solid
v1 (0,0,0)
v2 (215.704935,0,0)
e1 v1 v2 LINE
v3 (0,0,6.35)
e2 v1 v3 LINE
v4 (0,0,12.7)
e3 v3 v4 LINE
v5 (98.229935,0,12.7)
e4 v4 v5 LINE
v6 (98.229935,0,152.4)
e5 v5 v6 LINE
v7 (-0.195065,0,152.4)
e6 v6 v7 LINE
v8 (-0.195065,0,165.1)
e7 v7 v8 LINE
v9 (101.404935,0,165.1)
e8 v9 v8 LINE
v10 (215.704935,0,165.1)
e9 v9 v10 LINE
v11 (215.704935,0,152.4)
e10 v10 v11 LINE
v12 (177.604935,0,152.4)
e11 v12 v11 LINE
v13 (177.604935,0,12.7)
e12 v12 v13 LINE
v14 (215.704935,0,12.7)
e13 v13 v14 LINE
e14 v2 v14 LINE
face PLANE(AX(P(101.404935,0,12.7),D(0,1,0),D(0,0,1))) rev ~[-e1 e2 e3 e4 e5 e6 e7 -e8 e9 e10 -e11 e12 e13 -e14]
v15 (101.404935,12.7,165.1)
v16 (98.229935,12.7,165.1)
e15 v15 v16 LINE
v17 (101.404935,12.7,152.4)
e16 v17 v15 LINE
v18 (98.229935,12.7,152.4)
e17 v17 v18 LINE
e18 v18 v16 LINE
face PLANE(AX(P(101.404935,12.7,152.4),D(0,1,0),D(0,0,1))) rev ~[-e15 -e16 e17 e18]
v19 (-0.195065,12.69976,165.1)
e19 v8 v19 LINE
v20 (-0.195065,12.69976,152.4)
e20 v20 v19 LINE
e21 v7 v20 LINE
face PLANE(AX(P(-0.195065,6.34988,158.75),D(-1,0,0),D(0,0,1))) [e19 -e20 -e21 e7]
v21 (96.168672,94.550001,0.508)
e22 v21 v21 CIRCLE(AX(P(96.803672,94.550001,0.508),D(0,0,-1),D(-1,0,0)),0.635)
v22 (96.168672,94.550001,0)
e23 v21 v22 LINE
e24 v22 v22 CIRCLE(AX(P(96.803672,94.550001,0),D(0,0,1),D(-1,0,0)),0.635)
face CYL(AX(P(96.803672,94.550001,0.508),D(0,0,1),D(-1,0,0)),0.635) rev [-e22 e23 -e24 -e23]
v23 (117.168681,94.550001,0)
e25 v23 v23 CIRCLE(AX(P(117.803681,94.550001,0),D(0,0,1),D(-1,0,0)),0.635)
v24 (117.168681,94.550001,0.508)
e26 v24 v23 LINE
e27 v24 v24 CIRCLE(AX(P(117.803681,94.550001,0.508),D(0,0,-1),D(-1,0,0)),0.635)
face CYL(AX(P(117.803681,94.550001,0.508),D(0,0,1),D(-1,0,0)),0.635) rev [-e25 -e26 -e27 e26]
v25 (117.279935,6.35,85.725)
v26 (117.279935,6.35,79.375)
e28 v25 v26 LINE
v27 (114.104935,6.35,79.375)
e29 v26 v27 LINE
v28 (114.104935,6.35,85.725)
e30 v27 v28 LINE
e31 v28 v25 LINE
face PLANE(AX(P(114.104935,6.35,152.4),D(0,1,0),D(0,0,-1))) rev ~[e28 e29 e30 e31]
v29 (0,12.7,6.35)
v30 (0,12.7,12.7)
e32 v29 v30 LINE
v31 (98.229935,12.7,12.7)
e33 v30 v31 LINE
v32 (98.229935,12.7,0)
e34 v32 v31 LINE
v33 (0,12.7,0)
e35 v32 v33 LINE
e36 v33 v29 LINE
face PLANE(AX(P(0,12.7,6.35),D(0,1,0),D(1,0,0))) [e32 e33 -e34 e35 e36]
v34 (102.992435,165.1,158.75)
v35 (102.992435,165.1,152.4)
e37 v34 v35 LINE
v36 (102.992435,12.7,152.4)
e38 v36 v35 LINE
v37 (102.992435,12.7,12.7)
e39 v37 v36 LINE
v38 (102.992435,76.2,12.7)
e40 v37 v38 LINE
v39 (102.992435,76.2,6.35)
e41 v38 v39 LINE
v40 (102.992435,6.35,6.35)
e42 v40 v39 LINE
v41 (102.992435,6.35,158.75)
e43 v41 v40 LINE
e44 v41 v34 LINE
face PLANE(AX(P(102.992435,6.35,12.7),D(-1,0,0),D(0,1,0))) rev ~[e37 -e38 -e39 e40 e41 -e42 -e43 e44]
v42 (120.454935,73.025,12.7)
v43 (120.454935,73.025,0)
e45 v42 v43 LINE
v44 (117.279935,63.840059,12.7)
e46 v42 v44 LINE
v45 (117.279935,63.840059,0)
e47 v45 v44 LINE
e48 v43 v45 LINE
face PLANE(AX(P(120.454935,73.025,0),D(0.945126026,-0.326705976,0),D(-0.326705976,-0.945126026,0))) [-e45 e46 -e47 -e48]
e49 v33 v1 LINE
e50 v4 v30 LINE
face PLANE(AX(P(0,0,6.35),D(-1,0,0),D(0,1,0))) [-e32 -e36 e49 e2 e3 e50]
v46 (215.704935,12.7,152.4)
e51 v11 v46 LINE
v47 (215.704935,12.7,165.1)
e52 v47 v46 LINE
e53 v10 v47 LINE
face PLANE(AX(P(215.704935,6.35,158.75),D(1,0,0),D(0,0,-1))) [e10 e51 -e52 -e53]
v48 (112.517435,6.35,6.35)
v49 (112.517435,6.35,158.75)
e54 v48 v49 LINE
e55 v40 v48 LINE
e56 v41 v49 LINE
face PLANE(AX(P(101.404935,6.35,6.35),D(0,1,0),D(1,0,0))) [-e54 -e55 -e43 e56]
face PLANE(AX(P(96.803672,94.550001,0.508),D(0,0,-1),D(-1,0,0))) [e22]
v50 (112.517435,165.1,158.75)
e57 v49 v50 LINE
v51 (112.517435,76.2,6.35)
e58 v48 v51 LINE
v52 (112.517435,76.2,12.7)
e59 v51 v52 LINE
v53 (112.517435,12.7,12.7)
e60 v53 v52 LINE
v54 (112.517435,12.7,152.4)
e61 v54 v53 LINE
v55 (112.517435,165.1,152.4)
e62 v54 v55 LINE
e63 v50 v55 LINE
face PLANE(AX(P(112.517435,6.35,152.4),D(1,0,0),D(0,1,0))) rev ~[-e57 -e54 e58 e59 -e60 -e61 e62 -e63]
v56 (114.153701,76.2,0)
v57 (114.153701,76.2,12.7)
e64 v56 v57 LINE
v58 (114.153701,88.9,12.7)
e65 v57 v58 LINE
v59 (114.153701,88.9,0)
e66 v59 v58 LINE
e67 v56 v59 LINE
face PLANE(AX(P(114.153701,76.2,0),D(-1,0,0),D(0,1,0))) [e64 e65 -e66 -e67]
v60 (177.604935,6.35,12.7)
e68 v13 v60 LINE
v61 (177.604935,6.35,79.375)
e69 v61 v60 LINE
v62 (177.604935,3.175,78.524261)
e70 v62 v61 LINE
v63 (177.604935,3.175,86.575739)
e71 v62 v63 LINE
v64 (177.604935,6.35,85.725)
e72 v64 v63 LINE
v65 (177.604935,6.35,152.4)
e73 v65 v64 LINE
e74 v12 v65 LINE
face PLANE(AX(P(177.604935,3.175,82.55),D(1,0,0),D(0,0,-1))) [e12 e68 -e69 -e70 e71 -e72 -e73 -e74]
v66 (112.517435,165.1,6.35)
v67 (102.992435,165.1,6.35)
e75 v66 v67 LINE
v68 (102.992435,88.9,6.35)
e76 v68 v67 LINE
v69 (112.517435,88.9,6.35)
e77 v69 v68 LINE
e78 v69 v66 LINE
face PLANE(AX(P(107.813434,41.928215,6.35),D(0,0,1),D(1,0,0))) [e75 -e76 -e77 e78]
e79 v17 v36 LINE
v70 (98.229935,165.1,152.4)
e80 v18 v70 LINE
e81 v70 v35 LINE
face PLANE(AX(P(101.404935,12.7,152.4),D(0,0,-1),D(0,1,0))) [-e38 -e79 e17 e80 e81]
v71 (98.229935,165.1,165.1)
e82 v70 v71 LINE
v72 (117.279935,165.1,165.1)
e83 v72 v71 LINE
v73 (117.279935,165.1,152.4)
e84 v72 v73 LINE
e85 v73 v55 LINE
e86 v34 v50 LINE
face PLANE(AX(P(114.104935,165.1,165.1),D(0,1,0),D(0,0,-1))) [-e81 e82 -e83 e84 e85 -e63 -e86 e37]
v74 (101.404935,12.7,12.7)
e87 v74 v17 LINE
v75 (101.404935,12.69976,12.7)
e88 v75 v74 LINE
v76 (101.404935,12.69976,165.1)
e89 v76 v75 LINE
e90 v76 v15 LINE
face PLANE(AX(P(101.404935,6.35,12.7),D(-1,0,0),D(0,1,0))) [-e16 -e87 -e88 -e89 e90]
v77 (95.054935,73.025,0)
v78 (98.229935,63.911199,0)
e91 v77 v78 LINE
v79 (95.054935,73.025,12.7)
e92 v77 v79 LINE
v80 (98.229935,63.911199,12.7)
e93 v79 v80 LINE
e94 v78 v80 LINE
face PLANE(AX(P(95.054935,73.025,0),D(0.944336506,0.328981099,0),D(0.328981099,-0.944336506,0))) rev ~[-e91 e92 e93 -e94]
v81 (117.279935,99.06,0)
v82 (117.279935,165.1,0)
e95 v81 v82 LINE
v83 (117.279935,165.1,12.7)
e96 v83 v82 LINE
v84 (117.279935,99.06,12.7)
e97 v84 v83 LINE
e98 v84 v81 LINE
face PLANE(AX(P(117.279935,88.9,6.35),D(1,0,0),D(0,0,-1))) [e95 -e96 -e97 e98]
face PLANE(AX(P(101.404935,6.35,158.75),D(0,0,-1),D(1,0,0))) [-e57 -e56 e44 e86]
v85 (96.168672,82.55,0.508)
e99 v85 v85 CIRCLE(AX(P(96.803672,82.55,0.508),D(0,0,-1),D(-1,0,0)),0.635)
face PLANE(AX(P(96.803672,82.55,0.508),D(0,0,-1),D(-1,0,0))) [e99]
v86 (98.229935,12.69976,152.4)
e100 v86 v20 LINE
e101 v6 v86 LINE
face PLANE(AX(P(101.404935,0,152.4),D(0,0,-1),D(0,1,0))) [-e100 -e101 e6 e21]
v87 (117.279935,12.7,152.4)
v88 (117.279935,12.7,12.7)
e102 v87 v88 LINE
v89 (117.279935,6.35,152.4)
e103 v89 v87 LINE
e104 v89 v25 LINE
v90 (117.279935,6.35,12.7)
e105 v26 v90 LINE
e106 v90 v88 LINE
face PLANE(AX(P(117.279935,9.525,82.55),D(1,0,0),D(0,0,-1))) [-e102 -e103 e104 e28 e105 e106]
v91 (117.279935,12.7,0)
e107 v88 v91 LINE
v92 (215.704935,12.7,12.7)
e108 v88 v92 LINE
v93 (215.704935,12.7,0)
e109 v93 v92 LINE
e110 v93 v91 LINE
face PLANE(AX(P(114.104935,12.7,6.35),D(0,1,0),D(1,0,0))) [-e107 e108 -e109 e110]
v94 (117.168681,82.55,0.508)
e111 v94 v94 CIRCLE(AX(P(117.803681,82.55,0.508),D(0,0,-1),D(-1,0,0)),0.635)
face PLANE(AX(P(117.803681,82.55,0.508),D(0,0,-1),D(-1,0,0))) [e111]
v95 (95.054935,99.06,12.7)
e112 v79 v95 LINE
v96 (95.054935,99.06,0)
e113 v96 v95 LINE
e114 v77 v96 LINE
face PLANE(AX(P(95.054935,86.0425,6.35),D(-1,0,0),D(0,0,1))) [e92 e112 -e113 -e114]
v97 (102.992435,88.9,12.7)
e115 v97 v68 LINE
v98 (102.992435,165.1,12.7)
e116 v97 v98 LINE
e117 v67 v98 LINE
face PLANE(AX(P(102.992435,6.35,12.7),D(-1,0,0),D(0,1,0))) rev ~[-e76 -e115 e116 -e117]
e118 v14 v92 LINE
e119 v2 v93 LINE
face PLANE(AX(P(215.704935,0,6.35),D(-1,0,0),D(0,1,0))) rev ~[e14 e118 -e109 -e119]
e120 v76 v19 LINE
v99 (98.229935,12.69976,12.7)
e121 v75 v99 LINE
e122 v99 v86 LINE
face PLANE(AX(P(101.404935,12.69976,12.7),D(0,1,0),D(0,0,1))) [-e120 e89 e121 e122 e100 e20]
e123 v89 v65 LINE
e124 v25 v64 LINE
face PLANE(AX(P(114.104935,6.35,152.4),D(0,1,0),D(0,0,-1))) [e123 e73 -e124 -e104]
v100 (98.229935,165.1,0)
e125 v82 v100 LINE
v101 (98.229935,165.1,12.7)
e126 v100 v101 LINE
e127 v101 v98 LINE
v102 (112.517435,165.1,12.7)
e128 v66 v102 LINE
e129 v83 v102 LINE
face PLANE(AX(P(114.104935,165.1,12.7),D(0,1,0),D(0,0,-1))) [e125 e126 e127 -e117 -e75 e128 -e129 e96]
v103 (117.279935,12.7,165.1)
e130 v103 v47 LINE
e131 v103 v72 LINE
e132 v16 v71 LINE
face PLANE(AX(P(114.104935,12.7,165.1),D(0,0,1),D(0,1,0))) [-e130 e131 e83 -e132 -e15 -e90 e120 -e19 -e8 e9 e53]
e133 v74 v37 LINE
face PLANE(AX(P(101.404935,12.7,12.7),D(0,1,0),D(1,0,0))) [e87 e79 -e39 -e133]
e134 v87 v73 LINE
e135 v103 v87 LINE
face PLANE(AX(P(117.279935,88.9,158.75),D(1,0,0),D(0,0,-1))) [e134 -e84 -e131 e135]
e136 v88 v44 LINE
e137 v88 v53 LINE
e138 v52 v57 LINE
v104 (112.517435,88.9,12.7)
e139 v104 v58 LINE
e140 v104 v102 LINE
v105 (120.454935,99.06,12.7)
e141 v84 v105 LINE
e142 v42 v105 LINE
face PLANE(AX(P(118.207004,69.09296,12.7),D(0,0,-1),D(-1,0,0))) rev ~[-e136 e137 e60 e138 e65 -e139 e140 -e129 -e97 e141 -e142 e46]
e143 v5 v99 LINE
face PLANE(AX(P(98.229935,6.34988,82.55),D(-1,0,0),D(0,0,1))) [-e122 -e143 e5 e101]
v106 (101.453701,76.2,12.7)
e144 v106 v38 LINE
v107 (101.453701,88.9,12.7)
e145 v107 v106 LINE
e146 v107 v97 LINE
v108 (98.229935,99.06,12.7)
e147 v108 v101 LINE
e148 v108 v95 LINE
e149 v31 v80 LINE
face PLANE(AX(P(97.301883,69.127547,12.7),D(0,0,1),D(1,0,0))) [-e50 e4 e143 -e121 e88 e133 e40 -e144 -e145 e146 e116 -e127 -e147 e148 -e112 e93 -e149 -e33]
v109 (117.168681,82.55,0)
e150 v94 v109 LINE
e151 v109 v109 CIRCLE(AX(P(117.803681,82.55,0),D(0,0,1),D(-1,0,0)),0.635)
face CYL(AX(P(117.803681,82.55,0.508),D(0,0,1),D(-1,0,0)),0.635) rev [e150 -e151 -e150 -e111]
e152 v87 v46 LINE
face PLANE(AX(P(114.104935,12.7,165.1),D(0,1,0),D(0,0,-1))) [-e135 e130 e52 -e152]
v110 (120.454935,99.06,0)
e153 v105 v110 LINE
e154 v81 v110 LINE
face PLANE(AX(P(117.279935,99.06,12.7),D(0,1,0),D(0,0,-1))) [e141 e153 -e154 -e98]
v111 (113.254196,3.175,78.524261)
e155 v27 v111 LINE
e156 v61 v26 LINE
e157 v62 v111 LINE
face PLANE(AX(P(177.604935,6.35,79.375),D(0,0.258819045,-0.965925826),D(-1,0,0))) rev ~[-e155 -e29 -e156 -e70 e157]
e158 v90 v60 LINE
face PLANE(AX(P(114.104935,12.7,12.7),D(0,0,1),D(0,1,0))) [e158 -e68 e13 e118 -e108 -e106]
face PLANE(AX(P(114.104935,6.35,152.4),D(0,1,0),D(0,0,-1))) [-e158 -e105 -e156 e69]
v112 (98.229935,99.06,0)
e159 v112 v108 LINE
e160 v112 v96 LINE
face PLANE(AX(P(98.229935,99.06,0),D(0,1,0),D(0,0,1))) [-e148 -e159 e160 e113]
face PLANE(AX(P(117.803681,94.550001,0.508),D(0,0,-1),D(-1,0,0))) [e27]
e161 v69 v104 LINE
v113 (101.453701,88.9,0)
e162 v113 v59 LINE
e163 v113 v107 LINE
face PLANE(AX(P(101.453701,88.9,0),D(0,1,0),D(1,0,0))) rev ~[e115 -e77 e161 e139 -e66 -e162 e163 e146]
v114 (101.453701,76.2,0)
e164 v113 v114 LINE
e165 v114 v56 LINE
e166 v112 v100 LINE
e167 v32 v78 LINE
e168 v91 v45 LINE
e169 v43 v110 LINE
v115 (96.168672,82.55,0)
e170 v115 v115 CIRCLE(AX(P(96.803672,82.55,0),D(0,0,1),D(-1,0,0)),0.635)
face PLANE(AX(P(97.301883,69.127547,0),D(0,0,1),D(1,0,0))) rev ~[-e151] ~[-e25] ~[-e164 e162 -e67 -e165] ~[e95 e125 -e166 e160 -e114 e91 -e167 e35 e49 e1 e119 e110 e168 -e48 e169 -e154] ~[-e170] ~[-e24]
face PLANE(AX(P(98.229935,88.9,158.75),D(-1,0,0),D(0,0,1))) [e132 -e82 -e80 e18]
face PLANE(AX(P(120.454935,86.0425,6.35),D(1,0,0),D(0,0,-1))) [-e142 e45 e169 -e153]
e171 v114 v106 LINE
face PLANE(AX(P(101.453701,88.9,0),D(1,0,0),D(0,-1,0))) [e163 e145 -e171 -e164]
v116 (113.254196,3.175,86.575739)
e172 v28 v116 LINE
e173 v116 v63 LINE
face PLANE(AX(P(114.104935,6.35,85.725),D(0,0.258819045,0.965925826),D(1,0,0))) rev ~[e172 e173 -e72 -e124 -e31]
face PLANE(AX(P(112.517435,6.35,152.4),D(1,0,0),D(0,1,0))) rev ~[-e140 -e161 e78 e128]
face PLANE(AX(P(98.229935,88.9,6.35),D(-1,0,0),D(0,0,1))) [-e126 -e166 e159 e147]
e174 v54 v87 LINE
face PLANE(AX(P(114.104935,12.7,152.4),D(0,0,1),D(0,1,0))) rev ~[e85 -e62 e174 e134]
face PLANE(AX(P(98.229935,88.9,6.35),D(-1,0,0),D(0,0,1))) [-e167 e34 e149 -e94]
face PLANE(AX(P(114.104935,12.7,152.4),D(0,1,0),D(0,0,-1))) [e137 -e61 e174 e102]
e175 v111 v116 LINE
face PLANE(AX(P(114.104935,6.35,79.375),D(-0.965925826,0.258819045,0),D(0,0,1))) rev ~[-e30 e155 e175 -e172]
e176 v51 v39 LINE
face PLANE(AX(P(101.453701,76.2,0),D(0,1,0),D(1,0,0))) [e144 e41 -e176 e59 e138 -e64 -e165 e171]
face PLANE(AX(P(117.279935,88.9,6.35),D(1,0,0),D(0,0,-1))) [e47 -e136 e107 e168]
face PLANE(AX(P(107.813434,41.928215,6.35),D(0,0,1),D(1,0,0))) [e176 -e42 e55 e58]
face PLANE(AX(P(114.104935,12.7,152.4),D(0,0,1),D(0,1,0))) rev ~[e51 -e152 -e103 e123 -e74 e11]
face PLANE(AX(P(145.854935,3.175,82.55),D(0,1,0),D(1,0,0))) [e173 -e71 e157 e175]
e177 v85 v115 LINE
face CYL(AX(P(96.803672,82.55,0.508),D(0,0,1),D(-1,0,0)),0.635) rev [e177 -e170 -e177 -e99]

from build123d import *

# Parameters (mm, degrees)
BOSS_EXTRUDE2_DEPTH  = 6.35
BOSS_EXTRUDE3_DEPTH  = 6.35
SKETCH3_W            = 1.5875
SKETCH3_H            = 158.75
BOSS_EXTRUDE4_DEPTH  = 6.35
SKETCH4_W            = 12.7
SKETCH4_H            = 6.35
BOSS_EXTRUDE5_DEPTH  = 158.75
SKETCH5_W            = 12.7
SKETCH5_H            = 6.35
BOSS_EXTRUDE6_DEPTH  = 158.75
SKETCH6_W            = 1.5875
SKETCH6_H            = 158.75
BOSS_EXTRUDE7_DEPTH  = 6.35
SKETCH7_W            = 1.5875
SKETCH7_H            = 158.75
BOSS_EXTRUDE8_DEPTH  = 6.35
SKETCH8_W            = 1.5875
SKETCH8_H            = 6.35
BOSS_EXTRUDE9_DEPTH  = 139.7
SKETCH10_W           = 1.5875
SKETCH10_H           = 6.35
BOSS_EXTRUDE10_DEPTH = 139.7
SKETCH11_W           = 12.7
SKETCH11_H           = 12.699759929
BOSS_EXTRUDE11_DEPTH = 101.6
SKETCH12_W           = 101.404934815
SKETCH12_H           = 12.7
BOSS_EXTRUDE12_DEPTH = 6.35
SKETCH13_W           = 101.6
SKETCH13_H           = 12.7
BOSS_EXTRUDE13_DEPTH = 6.35
SKETCH14_W           = 12.7
SKETCH14_H           = 12.7
BOSS_EXTRUDE14_DEPTH = 101.6
SKETCH15_W           = 139.7
SKETCH15_H           = 6.35
BOSS_EXTRUDE15_DEPTH = 63.5
CUT_EXTRUDE1_DEPTH   = 3.175
CUT_EXTRUDE1_DRAFT   = 15
CUT_EXTRUDE3_DEPTH   = 6.35
SKETCH18_W           = 12.7
SKETCH18_H           = 152.4
BOSS_EXTRUDE17_DEPTH = 3.175
SKETCH19_W           = 12.7
SKETCH19_H           = 152.4
BOSS_EXTRUDE18_DEPTH = 3.175
SKETCH20_W           = 12.7
SKETCH20_H           = 152.4
BOSS_EXTRUDE19_DEPTH = 3.175
SKETCH21_W           = 12.7
SKETCH21_H           = 152.4
BOSS_EXTRUDE20_DEPTH = 3.175
SKETCH22_W           = 139.7
SKETCH22_H           = 6.35
BOSS_EXTRUDE21_DEPTH = 3.175
SKETCH23_W           = 139.7
SKETCH23_H           = 12.699759929
BOSS_EXTRUDE22_DEPTH = 3.175
CUT_EXTRUDE4_DEPTH   = 12.7
SKETCH30_W           = 12.7
SKETCH30_H           = 26.035
BOSS_EXTRUDE25_DEPTH = 3.175
SKETCH31_W           = 12.7
SKETCH31_H           = 26.035
BOSS_EXTRUDE26_DEPTH = 3.175
BOSS_EXTRUDE27_DEPTH = 12.7
BOSS_EXTRUDE28_DEPTH = 12.7
SKETCH37_R           = 0.635
BOSS_EXTRUDE29_DEPTH = 7.9375
CUT_EXTRUDE5_START   = -8.4455
SKETCH38_R           = 0.635
CUT_EXTRUDE5_DEPTH   = 8.4455
CUT_EXTRUDE6_START   = -8.4455
SKETCH39_R           = 0.635
CUT_EXTRUDE6_DEPTH   = 8.4455
CUT_EXTRUDE7_START   = -8.4455
SKETCH40_R           = 0.635
CUT_EXTRUDE7_DEPTH   = 8.4455
CUT_EXTRUDE8_START   = -8.4455
SKETCH41_R           = 0.635
CUT_EXTRUDE8_DEPTH   = 8.4455


with BuildPart() as part:
    # Sketch1 → Boss-Extrude2 (new body)
    with BuildSketch(Plane.XY):
        Polygon((0, 0), (215.704934815, 0), (215.704934815, 12.7), (114.104934815, 12.7), (114.104934815, 165.1), (101.404934815, 165.1), (101.404934815, 12.7), (0, 12.7), align=None)
    extrude(amount=BOSS_EXTRUDE2_DEPTH)

    # Sketch2 → Boss-Extrude3 (add)
    with BuildSketch(Plane.XY.offset(6.35)):
        Polygon((101.404934815, 12.7), (101.404934815, 6.35), (102.992434815, 6.35), (102.992434815, 165.1), (101.404934815, 165.1), align=None)
    extrude(amount=BOSS_EXTRUDE3_DEPTH)

    # Sketch3 → Boss-Extrude4 (add)
    with BuildSketch(Plane.XY.offset(6.35)):
        with Locations((113.311184815, 85.725)):
            Rectangle(SKETCH3_W, SKETCH3_H)
    extrude(amount=BOSS_EXTRUDE4_DEPTH)

    # Sketch4 → Boss-Extrude5 (add)
    with BuildSketch(Plane.XY.offset(6.35)):
        with Locations((107.754934815, 3.175)):
            Rectangle(SKETCH4_W, SKETCH4_H)
    extrude(amount=BOSS_EXTRUDE5_DEPTH)

    # Sketch5 → Boss-Extrude6 (add)
    with BuildSketch(Plane(origin=(0, 6.35, 0), x_dir=(1, 0, 0), z_dir=(0, 1, 0))):
        with Locations((107.754934815, -161.925)):
            Rectangle(SKETCH5_W, SKETCH5_H)
    extrude(amount=BOSS_EXTRUDE6_DEPTH)

    # Sketch6 → Boss-Extrude7 (add)
    with BuildSketch(Plane(origin=(0, 0, 158.75), x_dir=(-1, 0, 0), z_dir=(0, 0, -1))):
        with Locations((-102.198684815, 85.725)):
            Rectangle(SKETCH6_W, SKETCH6_H)
    extrude(amount=BOSS_EXTRUDE7_DEPTH)

    # Sketch7 → Boss-Extrude8 (add)
    with BuildSketch(Plane(origin=(0, 0, 158.75), x_dir=(-1, 0, 0), z_dir=(0, 0, -1))):
        with Locations((-113.311184815, 85.725)):
            Rectangle(SKETCH7_W, SKETCH7_H)
    extrude(amount=BOSS_EXTRUDE8_DEPTH)

    # Sketch8 → Boss-Extrude9 (add)
    with BuildSketch(Plane(origin=(0, 0, 152.4), x_dir=(-1, 0, 0), z_dir=(0, 0, -1))):
        with Locations((-113.311184815, 9.525)):
            Rectangle(SKETCH8_W, SKETCH8_H)
    extrude(amount=BOSS_EXTRUDE9_DEPTH)

    # Sketch10 → Boss-Extrude10 (add)
    with BuildSketch(Plane.XY.offset(12.7)):
        with Locations((102.198684815, 9.525)):
            Rectangle(SKETCH10_W, SKETCH10_H)
    extrude(amount=BOSS_EXTRUDE10_DEPTH)

    # Sketch11 → Boss-Extrude11 (add)
    with BuildSketch(Plane.ZY.offset(-101.404934815)):
        with Locations((158.75, 6.349879965)):
            Rectangle(SKETCH11_W, SKETCH11_H)
    extrude(amount=BOSS_EXTRUDE11_DEPTH)

    # Sketch12 → Boss-Extrude12 (add)
    with BuildSketch(Plane.XY.offset(6.35)):
        with Locations((50.702467408, 6.35)):
            Rectangle(SKETCH12_W, SKETCH12_H)
    extrude(amount=BOSS_EXTRUDE12_DEPTH)

    # Sketch13 → Boss-Extrude13 (add)
    with BuildSketch(Plane.XY.offset(6.35)):
        with Locations((164.904934815, 6.35)):
            Rectangle(SKETCH13_W, SKETCH13_H)
    extrude(amount=BOSS_EXTRUDE13_DEPTH)

    # Sketch14 → Boss-Extrude14 (add)
    with BuildSketch(Plane(origin=(114.104934815, 0, 0), x_dir=(0, 0, -1), z_dir=(1, 0, 0))):
        with Locations((-158.75, 6.35)):
            Rectangle(SKETCH14_W, SKETCH14_H)
    extrude(amount=BOSS_EXTRUDE14_DEPTH)

    # Sketch15 → Boss-Extrude15 (add)
    with BuildSketch(Plane(origin=(114.104934815, 0, 0), x_dir=(0, 0, -1), z_dir=(1, 0, 0))):
        with Locations((-82.55, 3.175)):
            Rectangle(SKETCH15_W, SKETCH15_H)
    extrude(amount=BOSS_EXTRUDE15_DEPTH)


with BuildPart() as cut_extrude1_tool:
    # Sketch16 → Cut-Extrude1 (with draft: the straight prism first)
    with BuildSketch(Plane(origin=(0, 6.35, 0), x_dir=(1, 0, 0), z_dir=(0, 1, 0))):
        Polygon((177.604934815, -82.55), (177.604934815, -79.375), (114.104934815, -79.375), (114.104934815, -82.55), (114.104934815, -85.725), (177.604934815, -85.725), align=None)
    extrude(amount=-CUT_EXTRUDE1_DEPTH)
    # Cut-Extrude1: the draft: its side faces are tilted about the plane it starts from
    cut_extrude1_sides = [cut_extrude1_tool.faces().sort_by_distance(p)[0] for p in [
        (177.604934815, 4.7625, 82.55),
        (114.104934815, 4.7625, 82.55),
        (145.854934815, 4.7625, 85.725),
        (145.854934815, 4.7625, 79.375),
    ]]
    draft(cut_extrude1_sides, Plane(origin=(0, 6.35, 0), x_dir=(1, 0, 0), z_dir=(0, 1, 0)), CUT_EXTRUDE1_DRAFT)


with BuildPart() as part_1:
    add(part.part)

    # Cut-Extrude1: cut by cut_extrude1_tool
    add(cut_extrude1_tool.part, mode=Mode.SUBTRACT)

    # Sketch17 → Cut-Extrude3 (cut)
    with BuildSketch(Plane(origin=(0, 0, 0), x_dir=(-1, 0, 0), z_dir=(0, 0, -1))):
        Polygon((-107.803701111, 87.3125), (-112.566201111, 87.3125), (-112.566201111, 82.55), (-112.566201111, 77.784684897), (-107.806516214, 77.784684897), (-103.041201111, 77.784684897), (-103.041201111, 82.55), (-103.041201111, 87.3125), align=None)
    extrude(amount=-CUT_EXTRUDE3_DEPTH, mode=Mode.SUBTRACT)

    # Sketch18 → Boss-Extrude17 (add)
    with BuildSketch(Plane.ZY.offset(-101.404934815)):
        with Locations((6.35, 88.9)):
            Rectangle(SKETCH18_W, SKETCH18_H)
    extrude(amount=BOSS_EXTRUDE17_DEPTH)

    # Sketch19 → Boss-Extrude18 (add)
    with BuildSketch(Plane(origin=(114.104934815, 0, 0), x_dir=(0, 0, -1), z_dir=(1, 0, 0))):
        with Locations((-6.35, 88.9)):
            Rectangle(SKETCH19_W, SKETCH19_H)
    extrude(amount=BOSS_EXTRUDE18_DEPTH)

    # Sketch20 → Boss-Extrude19 (add)
    with BuildSketch(Plane.ZY.offset(-101.404934815)):
        with Locations((158.75, 88.9)):
            Rectangle(SKETCH20_W, SKETCH20_H)
    extrude(amount=BOSS_EXTRUDE19_DEPTH)

    # Sketch21 → Boss-Extrude20 (add)
    with BuildSketch(Plane(origin=(114.104934815, 0, 0), x_dir=(0, 0, -1), z_dir=(1, 0, 0))):
        with Locations((-158.75, 88.9)):
            Rectangle(SKETCH21_W, SKETCH21_H)
    extrude(amount=BOSS_EXTRUDE20_DEPTH)

    # Sketch22 → Boss-Extrude21 (add)
    with BuildSketch(Plane(origin=(114.104934815, 0, 0), x_dir=(0, 0, -1), z_dir=(1, 0, 0))):
        with Locations((-82.55, 9.525)):
            Rectangle(SKETCH22_W, SKETCH22_H)
    extrude(amount=BOSS_EXTRUDE21_DEPTH)

    # Sketch23 → Boss-Extrude22 (add)
    with BuildSketch(Plane.ZY.offset(-101.404934815)):
        with Locations((82.55, 6.349879965)):
            Rectangle(SKETCH23_W, SKETCH23_H)
    extrude(amount=BOSS_EXTRUDE22_DEPTH)

    # Sketch25 → Cut-Extrude4 (cut)
    with BuildSketch(Plane(origin=(0, 0, 0), x_dir=(-1, 0, 0), z_dir=(0, 0, -1))):
        Polygon((-112.566201111, 88.9), (-101.453701111, 88.9), (-101.453701111, 76.2), (-114.153701111, 76.2), (-114.153701111, 88.9), align=None)
    extrude(amount=-CUT_EXTRUDE4_DEPTH, mode=Mode.SUBTRACT)

    # Sketch30 → Boss-Extrude25 (add)
    with BuildSketch(Plane(origin=(117.279934815, 0, 0), x_dir=(0, 0, -1), z_dir=(1, 0, 0))):
        with Locations((-6.35, 86.0425)):
            Rectangle(SKETCH30_W, SKETCH30_H)
    extrude(amount=BOSS_EXTRUDE25_DEPTH)

    # Sketch31 → Boss-Extrude26 (add)
    with BuildSketch(Plane.ZY.offset(-98.229934815)):
        with Locations((6.35, 86.0425)):
            Rectangle(SKETCH31_W, SKETCH31_H)
    extrude(amount=BOSS_EXTRUDE26_DEPTH)

    # Sketch32 → Boss-Extrude27 (add)
    with BuildSketch(Plane(origin=(0, 0, 0), x_dir=(-1, 0, 0), z_dir=(0, 0, -1))):
        Polygon((-120.454934815, 73.025), (-117.279934815, 63.840058945), (-117.279934815, 73.025), align=None)
    extrude(amount=-BOSS_EXTRUDE27_DEPTH)

    # Sketch36 → Boss-Extrude28 (add)
    with BuildSketch(Plane(origin=(0, 0, 0), x_dir=(-1, 0, 0), z_dir=(0, 0, -1))):
        Polygon((-95.054934815, 73.025), (-98.229934815, 63.911198594), (-98.229934815, 73.025), align=None)
    extrude(amount=-BOSS_EXTRUDE28_DEPTH)

    # Sketch37 → Boss-Extrude29 (add)
    with BuildSketch(Plane(origin=(0, 0, 0), x_dir=(-1, 0, 0), z_dir=(0, 0, -1))):
        with Locations(Location((-117.803681111, 82.55, 0), (0, 0, 180))):
            Circle(SKETCH37_R)
        with Locations(Location((-96.803672311, 82.55, 0), (0, 0, 180))):
            Circle(SKETCH37_R)
        with Locations(Location((-96.803672311, 94.5500014, 0), (0, 0, 180))):
            Circle(SKETCH37_R)
        with Locations(Location((-117.803681111, 94.5500014, 0), (0, 0, 180))):
            Circle(SKETCH37_R)
    extrude(amount=BOSS_EXTRUDE29_DEPTH)

    # Sketch38 → Cut-Extrude5 (cut)
    with BuildSketch(Plane(origin=(0, 0, -7.9375), x_dir=(-1, 0, 0), z_dir=(0, 0, -1)).offset(CUT_EXTRUDE5_START)):
        with Locations((-117.803681111, 94.5500014)):
            Circle(SKETCH38_R)
    extrude(amount=CUT_EXTRUDE5_DEPTH, mode=Mode.SUBTRACT)

    # Sketch39 → Cut-Extrude6 (cut)
    with BuildSketch(Plane(origin=(0, 0, -7.9375), x_dir=(-1, 0, 0), z_dir=(0, 0, -1)).offset(CUT_EXTRUDE6_START)):
        with Locations((-96.803672311, 94.5500014)):
            Circle(SKETCH39_R)
    extrude(amount=CUT_EXTRUDE6_DEPTH, mode=Mode.SUBTRACT)

    # Sketch40 → Cut-Extrude7 (cut)
    with BuildSketch(Plane(origin=(0, 0, -7.9375), x_dir=(-1, 0, 0), z_dir=(0, 0, -1)).offset(CUT_EXTRUDE7_START)):
        with Locations((-117.803681111, 82.55)):
            Circle(SKETCH40_R)
    extrude(amount=CUT_EXTRUDE7_DEPTH, mode=Mode.SUBTRACT)

    # Sketch41 → Cut-Extrude8 (cut)
    with BuildSketch(Plane(origin=(0, 0, -7.9375), x_dir=(-1, 0, 0), z_dir=(0, 0, -1)).offset(CUT_EXTRUDE8_START)):
        with Locations((-96.803672311, 82.55)):
            Circle(SKETCH41_R)
    extrude(amount=CUT_EXTRUDE8_DEPTH, mode=Mode.SUBTRACT)


solid = part_1.part
